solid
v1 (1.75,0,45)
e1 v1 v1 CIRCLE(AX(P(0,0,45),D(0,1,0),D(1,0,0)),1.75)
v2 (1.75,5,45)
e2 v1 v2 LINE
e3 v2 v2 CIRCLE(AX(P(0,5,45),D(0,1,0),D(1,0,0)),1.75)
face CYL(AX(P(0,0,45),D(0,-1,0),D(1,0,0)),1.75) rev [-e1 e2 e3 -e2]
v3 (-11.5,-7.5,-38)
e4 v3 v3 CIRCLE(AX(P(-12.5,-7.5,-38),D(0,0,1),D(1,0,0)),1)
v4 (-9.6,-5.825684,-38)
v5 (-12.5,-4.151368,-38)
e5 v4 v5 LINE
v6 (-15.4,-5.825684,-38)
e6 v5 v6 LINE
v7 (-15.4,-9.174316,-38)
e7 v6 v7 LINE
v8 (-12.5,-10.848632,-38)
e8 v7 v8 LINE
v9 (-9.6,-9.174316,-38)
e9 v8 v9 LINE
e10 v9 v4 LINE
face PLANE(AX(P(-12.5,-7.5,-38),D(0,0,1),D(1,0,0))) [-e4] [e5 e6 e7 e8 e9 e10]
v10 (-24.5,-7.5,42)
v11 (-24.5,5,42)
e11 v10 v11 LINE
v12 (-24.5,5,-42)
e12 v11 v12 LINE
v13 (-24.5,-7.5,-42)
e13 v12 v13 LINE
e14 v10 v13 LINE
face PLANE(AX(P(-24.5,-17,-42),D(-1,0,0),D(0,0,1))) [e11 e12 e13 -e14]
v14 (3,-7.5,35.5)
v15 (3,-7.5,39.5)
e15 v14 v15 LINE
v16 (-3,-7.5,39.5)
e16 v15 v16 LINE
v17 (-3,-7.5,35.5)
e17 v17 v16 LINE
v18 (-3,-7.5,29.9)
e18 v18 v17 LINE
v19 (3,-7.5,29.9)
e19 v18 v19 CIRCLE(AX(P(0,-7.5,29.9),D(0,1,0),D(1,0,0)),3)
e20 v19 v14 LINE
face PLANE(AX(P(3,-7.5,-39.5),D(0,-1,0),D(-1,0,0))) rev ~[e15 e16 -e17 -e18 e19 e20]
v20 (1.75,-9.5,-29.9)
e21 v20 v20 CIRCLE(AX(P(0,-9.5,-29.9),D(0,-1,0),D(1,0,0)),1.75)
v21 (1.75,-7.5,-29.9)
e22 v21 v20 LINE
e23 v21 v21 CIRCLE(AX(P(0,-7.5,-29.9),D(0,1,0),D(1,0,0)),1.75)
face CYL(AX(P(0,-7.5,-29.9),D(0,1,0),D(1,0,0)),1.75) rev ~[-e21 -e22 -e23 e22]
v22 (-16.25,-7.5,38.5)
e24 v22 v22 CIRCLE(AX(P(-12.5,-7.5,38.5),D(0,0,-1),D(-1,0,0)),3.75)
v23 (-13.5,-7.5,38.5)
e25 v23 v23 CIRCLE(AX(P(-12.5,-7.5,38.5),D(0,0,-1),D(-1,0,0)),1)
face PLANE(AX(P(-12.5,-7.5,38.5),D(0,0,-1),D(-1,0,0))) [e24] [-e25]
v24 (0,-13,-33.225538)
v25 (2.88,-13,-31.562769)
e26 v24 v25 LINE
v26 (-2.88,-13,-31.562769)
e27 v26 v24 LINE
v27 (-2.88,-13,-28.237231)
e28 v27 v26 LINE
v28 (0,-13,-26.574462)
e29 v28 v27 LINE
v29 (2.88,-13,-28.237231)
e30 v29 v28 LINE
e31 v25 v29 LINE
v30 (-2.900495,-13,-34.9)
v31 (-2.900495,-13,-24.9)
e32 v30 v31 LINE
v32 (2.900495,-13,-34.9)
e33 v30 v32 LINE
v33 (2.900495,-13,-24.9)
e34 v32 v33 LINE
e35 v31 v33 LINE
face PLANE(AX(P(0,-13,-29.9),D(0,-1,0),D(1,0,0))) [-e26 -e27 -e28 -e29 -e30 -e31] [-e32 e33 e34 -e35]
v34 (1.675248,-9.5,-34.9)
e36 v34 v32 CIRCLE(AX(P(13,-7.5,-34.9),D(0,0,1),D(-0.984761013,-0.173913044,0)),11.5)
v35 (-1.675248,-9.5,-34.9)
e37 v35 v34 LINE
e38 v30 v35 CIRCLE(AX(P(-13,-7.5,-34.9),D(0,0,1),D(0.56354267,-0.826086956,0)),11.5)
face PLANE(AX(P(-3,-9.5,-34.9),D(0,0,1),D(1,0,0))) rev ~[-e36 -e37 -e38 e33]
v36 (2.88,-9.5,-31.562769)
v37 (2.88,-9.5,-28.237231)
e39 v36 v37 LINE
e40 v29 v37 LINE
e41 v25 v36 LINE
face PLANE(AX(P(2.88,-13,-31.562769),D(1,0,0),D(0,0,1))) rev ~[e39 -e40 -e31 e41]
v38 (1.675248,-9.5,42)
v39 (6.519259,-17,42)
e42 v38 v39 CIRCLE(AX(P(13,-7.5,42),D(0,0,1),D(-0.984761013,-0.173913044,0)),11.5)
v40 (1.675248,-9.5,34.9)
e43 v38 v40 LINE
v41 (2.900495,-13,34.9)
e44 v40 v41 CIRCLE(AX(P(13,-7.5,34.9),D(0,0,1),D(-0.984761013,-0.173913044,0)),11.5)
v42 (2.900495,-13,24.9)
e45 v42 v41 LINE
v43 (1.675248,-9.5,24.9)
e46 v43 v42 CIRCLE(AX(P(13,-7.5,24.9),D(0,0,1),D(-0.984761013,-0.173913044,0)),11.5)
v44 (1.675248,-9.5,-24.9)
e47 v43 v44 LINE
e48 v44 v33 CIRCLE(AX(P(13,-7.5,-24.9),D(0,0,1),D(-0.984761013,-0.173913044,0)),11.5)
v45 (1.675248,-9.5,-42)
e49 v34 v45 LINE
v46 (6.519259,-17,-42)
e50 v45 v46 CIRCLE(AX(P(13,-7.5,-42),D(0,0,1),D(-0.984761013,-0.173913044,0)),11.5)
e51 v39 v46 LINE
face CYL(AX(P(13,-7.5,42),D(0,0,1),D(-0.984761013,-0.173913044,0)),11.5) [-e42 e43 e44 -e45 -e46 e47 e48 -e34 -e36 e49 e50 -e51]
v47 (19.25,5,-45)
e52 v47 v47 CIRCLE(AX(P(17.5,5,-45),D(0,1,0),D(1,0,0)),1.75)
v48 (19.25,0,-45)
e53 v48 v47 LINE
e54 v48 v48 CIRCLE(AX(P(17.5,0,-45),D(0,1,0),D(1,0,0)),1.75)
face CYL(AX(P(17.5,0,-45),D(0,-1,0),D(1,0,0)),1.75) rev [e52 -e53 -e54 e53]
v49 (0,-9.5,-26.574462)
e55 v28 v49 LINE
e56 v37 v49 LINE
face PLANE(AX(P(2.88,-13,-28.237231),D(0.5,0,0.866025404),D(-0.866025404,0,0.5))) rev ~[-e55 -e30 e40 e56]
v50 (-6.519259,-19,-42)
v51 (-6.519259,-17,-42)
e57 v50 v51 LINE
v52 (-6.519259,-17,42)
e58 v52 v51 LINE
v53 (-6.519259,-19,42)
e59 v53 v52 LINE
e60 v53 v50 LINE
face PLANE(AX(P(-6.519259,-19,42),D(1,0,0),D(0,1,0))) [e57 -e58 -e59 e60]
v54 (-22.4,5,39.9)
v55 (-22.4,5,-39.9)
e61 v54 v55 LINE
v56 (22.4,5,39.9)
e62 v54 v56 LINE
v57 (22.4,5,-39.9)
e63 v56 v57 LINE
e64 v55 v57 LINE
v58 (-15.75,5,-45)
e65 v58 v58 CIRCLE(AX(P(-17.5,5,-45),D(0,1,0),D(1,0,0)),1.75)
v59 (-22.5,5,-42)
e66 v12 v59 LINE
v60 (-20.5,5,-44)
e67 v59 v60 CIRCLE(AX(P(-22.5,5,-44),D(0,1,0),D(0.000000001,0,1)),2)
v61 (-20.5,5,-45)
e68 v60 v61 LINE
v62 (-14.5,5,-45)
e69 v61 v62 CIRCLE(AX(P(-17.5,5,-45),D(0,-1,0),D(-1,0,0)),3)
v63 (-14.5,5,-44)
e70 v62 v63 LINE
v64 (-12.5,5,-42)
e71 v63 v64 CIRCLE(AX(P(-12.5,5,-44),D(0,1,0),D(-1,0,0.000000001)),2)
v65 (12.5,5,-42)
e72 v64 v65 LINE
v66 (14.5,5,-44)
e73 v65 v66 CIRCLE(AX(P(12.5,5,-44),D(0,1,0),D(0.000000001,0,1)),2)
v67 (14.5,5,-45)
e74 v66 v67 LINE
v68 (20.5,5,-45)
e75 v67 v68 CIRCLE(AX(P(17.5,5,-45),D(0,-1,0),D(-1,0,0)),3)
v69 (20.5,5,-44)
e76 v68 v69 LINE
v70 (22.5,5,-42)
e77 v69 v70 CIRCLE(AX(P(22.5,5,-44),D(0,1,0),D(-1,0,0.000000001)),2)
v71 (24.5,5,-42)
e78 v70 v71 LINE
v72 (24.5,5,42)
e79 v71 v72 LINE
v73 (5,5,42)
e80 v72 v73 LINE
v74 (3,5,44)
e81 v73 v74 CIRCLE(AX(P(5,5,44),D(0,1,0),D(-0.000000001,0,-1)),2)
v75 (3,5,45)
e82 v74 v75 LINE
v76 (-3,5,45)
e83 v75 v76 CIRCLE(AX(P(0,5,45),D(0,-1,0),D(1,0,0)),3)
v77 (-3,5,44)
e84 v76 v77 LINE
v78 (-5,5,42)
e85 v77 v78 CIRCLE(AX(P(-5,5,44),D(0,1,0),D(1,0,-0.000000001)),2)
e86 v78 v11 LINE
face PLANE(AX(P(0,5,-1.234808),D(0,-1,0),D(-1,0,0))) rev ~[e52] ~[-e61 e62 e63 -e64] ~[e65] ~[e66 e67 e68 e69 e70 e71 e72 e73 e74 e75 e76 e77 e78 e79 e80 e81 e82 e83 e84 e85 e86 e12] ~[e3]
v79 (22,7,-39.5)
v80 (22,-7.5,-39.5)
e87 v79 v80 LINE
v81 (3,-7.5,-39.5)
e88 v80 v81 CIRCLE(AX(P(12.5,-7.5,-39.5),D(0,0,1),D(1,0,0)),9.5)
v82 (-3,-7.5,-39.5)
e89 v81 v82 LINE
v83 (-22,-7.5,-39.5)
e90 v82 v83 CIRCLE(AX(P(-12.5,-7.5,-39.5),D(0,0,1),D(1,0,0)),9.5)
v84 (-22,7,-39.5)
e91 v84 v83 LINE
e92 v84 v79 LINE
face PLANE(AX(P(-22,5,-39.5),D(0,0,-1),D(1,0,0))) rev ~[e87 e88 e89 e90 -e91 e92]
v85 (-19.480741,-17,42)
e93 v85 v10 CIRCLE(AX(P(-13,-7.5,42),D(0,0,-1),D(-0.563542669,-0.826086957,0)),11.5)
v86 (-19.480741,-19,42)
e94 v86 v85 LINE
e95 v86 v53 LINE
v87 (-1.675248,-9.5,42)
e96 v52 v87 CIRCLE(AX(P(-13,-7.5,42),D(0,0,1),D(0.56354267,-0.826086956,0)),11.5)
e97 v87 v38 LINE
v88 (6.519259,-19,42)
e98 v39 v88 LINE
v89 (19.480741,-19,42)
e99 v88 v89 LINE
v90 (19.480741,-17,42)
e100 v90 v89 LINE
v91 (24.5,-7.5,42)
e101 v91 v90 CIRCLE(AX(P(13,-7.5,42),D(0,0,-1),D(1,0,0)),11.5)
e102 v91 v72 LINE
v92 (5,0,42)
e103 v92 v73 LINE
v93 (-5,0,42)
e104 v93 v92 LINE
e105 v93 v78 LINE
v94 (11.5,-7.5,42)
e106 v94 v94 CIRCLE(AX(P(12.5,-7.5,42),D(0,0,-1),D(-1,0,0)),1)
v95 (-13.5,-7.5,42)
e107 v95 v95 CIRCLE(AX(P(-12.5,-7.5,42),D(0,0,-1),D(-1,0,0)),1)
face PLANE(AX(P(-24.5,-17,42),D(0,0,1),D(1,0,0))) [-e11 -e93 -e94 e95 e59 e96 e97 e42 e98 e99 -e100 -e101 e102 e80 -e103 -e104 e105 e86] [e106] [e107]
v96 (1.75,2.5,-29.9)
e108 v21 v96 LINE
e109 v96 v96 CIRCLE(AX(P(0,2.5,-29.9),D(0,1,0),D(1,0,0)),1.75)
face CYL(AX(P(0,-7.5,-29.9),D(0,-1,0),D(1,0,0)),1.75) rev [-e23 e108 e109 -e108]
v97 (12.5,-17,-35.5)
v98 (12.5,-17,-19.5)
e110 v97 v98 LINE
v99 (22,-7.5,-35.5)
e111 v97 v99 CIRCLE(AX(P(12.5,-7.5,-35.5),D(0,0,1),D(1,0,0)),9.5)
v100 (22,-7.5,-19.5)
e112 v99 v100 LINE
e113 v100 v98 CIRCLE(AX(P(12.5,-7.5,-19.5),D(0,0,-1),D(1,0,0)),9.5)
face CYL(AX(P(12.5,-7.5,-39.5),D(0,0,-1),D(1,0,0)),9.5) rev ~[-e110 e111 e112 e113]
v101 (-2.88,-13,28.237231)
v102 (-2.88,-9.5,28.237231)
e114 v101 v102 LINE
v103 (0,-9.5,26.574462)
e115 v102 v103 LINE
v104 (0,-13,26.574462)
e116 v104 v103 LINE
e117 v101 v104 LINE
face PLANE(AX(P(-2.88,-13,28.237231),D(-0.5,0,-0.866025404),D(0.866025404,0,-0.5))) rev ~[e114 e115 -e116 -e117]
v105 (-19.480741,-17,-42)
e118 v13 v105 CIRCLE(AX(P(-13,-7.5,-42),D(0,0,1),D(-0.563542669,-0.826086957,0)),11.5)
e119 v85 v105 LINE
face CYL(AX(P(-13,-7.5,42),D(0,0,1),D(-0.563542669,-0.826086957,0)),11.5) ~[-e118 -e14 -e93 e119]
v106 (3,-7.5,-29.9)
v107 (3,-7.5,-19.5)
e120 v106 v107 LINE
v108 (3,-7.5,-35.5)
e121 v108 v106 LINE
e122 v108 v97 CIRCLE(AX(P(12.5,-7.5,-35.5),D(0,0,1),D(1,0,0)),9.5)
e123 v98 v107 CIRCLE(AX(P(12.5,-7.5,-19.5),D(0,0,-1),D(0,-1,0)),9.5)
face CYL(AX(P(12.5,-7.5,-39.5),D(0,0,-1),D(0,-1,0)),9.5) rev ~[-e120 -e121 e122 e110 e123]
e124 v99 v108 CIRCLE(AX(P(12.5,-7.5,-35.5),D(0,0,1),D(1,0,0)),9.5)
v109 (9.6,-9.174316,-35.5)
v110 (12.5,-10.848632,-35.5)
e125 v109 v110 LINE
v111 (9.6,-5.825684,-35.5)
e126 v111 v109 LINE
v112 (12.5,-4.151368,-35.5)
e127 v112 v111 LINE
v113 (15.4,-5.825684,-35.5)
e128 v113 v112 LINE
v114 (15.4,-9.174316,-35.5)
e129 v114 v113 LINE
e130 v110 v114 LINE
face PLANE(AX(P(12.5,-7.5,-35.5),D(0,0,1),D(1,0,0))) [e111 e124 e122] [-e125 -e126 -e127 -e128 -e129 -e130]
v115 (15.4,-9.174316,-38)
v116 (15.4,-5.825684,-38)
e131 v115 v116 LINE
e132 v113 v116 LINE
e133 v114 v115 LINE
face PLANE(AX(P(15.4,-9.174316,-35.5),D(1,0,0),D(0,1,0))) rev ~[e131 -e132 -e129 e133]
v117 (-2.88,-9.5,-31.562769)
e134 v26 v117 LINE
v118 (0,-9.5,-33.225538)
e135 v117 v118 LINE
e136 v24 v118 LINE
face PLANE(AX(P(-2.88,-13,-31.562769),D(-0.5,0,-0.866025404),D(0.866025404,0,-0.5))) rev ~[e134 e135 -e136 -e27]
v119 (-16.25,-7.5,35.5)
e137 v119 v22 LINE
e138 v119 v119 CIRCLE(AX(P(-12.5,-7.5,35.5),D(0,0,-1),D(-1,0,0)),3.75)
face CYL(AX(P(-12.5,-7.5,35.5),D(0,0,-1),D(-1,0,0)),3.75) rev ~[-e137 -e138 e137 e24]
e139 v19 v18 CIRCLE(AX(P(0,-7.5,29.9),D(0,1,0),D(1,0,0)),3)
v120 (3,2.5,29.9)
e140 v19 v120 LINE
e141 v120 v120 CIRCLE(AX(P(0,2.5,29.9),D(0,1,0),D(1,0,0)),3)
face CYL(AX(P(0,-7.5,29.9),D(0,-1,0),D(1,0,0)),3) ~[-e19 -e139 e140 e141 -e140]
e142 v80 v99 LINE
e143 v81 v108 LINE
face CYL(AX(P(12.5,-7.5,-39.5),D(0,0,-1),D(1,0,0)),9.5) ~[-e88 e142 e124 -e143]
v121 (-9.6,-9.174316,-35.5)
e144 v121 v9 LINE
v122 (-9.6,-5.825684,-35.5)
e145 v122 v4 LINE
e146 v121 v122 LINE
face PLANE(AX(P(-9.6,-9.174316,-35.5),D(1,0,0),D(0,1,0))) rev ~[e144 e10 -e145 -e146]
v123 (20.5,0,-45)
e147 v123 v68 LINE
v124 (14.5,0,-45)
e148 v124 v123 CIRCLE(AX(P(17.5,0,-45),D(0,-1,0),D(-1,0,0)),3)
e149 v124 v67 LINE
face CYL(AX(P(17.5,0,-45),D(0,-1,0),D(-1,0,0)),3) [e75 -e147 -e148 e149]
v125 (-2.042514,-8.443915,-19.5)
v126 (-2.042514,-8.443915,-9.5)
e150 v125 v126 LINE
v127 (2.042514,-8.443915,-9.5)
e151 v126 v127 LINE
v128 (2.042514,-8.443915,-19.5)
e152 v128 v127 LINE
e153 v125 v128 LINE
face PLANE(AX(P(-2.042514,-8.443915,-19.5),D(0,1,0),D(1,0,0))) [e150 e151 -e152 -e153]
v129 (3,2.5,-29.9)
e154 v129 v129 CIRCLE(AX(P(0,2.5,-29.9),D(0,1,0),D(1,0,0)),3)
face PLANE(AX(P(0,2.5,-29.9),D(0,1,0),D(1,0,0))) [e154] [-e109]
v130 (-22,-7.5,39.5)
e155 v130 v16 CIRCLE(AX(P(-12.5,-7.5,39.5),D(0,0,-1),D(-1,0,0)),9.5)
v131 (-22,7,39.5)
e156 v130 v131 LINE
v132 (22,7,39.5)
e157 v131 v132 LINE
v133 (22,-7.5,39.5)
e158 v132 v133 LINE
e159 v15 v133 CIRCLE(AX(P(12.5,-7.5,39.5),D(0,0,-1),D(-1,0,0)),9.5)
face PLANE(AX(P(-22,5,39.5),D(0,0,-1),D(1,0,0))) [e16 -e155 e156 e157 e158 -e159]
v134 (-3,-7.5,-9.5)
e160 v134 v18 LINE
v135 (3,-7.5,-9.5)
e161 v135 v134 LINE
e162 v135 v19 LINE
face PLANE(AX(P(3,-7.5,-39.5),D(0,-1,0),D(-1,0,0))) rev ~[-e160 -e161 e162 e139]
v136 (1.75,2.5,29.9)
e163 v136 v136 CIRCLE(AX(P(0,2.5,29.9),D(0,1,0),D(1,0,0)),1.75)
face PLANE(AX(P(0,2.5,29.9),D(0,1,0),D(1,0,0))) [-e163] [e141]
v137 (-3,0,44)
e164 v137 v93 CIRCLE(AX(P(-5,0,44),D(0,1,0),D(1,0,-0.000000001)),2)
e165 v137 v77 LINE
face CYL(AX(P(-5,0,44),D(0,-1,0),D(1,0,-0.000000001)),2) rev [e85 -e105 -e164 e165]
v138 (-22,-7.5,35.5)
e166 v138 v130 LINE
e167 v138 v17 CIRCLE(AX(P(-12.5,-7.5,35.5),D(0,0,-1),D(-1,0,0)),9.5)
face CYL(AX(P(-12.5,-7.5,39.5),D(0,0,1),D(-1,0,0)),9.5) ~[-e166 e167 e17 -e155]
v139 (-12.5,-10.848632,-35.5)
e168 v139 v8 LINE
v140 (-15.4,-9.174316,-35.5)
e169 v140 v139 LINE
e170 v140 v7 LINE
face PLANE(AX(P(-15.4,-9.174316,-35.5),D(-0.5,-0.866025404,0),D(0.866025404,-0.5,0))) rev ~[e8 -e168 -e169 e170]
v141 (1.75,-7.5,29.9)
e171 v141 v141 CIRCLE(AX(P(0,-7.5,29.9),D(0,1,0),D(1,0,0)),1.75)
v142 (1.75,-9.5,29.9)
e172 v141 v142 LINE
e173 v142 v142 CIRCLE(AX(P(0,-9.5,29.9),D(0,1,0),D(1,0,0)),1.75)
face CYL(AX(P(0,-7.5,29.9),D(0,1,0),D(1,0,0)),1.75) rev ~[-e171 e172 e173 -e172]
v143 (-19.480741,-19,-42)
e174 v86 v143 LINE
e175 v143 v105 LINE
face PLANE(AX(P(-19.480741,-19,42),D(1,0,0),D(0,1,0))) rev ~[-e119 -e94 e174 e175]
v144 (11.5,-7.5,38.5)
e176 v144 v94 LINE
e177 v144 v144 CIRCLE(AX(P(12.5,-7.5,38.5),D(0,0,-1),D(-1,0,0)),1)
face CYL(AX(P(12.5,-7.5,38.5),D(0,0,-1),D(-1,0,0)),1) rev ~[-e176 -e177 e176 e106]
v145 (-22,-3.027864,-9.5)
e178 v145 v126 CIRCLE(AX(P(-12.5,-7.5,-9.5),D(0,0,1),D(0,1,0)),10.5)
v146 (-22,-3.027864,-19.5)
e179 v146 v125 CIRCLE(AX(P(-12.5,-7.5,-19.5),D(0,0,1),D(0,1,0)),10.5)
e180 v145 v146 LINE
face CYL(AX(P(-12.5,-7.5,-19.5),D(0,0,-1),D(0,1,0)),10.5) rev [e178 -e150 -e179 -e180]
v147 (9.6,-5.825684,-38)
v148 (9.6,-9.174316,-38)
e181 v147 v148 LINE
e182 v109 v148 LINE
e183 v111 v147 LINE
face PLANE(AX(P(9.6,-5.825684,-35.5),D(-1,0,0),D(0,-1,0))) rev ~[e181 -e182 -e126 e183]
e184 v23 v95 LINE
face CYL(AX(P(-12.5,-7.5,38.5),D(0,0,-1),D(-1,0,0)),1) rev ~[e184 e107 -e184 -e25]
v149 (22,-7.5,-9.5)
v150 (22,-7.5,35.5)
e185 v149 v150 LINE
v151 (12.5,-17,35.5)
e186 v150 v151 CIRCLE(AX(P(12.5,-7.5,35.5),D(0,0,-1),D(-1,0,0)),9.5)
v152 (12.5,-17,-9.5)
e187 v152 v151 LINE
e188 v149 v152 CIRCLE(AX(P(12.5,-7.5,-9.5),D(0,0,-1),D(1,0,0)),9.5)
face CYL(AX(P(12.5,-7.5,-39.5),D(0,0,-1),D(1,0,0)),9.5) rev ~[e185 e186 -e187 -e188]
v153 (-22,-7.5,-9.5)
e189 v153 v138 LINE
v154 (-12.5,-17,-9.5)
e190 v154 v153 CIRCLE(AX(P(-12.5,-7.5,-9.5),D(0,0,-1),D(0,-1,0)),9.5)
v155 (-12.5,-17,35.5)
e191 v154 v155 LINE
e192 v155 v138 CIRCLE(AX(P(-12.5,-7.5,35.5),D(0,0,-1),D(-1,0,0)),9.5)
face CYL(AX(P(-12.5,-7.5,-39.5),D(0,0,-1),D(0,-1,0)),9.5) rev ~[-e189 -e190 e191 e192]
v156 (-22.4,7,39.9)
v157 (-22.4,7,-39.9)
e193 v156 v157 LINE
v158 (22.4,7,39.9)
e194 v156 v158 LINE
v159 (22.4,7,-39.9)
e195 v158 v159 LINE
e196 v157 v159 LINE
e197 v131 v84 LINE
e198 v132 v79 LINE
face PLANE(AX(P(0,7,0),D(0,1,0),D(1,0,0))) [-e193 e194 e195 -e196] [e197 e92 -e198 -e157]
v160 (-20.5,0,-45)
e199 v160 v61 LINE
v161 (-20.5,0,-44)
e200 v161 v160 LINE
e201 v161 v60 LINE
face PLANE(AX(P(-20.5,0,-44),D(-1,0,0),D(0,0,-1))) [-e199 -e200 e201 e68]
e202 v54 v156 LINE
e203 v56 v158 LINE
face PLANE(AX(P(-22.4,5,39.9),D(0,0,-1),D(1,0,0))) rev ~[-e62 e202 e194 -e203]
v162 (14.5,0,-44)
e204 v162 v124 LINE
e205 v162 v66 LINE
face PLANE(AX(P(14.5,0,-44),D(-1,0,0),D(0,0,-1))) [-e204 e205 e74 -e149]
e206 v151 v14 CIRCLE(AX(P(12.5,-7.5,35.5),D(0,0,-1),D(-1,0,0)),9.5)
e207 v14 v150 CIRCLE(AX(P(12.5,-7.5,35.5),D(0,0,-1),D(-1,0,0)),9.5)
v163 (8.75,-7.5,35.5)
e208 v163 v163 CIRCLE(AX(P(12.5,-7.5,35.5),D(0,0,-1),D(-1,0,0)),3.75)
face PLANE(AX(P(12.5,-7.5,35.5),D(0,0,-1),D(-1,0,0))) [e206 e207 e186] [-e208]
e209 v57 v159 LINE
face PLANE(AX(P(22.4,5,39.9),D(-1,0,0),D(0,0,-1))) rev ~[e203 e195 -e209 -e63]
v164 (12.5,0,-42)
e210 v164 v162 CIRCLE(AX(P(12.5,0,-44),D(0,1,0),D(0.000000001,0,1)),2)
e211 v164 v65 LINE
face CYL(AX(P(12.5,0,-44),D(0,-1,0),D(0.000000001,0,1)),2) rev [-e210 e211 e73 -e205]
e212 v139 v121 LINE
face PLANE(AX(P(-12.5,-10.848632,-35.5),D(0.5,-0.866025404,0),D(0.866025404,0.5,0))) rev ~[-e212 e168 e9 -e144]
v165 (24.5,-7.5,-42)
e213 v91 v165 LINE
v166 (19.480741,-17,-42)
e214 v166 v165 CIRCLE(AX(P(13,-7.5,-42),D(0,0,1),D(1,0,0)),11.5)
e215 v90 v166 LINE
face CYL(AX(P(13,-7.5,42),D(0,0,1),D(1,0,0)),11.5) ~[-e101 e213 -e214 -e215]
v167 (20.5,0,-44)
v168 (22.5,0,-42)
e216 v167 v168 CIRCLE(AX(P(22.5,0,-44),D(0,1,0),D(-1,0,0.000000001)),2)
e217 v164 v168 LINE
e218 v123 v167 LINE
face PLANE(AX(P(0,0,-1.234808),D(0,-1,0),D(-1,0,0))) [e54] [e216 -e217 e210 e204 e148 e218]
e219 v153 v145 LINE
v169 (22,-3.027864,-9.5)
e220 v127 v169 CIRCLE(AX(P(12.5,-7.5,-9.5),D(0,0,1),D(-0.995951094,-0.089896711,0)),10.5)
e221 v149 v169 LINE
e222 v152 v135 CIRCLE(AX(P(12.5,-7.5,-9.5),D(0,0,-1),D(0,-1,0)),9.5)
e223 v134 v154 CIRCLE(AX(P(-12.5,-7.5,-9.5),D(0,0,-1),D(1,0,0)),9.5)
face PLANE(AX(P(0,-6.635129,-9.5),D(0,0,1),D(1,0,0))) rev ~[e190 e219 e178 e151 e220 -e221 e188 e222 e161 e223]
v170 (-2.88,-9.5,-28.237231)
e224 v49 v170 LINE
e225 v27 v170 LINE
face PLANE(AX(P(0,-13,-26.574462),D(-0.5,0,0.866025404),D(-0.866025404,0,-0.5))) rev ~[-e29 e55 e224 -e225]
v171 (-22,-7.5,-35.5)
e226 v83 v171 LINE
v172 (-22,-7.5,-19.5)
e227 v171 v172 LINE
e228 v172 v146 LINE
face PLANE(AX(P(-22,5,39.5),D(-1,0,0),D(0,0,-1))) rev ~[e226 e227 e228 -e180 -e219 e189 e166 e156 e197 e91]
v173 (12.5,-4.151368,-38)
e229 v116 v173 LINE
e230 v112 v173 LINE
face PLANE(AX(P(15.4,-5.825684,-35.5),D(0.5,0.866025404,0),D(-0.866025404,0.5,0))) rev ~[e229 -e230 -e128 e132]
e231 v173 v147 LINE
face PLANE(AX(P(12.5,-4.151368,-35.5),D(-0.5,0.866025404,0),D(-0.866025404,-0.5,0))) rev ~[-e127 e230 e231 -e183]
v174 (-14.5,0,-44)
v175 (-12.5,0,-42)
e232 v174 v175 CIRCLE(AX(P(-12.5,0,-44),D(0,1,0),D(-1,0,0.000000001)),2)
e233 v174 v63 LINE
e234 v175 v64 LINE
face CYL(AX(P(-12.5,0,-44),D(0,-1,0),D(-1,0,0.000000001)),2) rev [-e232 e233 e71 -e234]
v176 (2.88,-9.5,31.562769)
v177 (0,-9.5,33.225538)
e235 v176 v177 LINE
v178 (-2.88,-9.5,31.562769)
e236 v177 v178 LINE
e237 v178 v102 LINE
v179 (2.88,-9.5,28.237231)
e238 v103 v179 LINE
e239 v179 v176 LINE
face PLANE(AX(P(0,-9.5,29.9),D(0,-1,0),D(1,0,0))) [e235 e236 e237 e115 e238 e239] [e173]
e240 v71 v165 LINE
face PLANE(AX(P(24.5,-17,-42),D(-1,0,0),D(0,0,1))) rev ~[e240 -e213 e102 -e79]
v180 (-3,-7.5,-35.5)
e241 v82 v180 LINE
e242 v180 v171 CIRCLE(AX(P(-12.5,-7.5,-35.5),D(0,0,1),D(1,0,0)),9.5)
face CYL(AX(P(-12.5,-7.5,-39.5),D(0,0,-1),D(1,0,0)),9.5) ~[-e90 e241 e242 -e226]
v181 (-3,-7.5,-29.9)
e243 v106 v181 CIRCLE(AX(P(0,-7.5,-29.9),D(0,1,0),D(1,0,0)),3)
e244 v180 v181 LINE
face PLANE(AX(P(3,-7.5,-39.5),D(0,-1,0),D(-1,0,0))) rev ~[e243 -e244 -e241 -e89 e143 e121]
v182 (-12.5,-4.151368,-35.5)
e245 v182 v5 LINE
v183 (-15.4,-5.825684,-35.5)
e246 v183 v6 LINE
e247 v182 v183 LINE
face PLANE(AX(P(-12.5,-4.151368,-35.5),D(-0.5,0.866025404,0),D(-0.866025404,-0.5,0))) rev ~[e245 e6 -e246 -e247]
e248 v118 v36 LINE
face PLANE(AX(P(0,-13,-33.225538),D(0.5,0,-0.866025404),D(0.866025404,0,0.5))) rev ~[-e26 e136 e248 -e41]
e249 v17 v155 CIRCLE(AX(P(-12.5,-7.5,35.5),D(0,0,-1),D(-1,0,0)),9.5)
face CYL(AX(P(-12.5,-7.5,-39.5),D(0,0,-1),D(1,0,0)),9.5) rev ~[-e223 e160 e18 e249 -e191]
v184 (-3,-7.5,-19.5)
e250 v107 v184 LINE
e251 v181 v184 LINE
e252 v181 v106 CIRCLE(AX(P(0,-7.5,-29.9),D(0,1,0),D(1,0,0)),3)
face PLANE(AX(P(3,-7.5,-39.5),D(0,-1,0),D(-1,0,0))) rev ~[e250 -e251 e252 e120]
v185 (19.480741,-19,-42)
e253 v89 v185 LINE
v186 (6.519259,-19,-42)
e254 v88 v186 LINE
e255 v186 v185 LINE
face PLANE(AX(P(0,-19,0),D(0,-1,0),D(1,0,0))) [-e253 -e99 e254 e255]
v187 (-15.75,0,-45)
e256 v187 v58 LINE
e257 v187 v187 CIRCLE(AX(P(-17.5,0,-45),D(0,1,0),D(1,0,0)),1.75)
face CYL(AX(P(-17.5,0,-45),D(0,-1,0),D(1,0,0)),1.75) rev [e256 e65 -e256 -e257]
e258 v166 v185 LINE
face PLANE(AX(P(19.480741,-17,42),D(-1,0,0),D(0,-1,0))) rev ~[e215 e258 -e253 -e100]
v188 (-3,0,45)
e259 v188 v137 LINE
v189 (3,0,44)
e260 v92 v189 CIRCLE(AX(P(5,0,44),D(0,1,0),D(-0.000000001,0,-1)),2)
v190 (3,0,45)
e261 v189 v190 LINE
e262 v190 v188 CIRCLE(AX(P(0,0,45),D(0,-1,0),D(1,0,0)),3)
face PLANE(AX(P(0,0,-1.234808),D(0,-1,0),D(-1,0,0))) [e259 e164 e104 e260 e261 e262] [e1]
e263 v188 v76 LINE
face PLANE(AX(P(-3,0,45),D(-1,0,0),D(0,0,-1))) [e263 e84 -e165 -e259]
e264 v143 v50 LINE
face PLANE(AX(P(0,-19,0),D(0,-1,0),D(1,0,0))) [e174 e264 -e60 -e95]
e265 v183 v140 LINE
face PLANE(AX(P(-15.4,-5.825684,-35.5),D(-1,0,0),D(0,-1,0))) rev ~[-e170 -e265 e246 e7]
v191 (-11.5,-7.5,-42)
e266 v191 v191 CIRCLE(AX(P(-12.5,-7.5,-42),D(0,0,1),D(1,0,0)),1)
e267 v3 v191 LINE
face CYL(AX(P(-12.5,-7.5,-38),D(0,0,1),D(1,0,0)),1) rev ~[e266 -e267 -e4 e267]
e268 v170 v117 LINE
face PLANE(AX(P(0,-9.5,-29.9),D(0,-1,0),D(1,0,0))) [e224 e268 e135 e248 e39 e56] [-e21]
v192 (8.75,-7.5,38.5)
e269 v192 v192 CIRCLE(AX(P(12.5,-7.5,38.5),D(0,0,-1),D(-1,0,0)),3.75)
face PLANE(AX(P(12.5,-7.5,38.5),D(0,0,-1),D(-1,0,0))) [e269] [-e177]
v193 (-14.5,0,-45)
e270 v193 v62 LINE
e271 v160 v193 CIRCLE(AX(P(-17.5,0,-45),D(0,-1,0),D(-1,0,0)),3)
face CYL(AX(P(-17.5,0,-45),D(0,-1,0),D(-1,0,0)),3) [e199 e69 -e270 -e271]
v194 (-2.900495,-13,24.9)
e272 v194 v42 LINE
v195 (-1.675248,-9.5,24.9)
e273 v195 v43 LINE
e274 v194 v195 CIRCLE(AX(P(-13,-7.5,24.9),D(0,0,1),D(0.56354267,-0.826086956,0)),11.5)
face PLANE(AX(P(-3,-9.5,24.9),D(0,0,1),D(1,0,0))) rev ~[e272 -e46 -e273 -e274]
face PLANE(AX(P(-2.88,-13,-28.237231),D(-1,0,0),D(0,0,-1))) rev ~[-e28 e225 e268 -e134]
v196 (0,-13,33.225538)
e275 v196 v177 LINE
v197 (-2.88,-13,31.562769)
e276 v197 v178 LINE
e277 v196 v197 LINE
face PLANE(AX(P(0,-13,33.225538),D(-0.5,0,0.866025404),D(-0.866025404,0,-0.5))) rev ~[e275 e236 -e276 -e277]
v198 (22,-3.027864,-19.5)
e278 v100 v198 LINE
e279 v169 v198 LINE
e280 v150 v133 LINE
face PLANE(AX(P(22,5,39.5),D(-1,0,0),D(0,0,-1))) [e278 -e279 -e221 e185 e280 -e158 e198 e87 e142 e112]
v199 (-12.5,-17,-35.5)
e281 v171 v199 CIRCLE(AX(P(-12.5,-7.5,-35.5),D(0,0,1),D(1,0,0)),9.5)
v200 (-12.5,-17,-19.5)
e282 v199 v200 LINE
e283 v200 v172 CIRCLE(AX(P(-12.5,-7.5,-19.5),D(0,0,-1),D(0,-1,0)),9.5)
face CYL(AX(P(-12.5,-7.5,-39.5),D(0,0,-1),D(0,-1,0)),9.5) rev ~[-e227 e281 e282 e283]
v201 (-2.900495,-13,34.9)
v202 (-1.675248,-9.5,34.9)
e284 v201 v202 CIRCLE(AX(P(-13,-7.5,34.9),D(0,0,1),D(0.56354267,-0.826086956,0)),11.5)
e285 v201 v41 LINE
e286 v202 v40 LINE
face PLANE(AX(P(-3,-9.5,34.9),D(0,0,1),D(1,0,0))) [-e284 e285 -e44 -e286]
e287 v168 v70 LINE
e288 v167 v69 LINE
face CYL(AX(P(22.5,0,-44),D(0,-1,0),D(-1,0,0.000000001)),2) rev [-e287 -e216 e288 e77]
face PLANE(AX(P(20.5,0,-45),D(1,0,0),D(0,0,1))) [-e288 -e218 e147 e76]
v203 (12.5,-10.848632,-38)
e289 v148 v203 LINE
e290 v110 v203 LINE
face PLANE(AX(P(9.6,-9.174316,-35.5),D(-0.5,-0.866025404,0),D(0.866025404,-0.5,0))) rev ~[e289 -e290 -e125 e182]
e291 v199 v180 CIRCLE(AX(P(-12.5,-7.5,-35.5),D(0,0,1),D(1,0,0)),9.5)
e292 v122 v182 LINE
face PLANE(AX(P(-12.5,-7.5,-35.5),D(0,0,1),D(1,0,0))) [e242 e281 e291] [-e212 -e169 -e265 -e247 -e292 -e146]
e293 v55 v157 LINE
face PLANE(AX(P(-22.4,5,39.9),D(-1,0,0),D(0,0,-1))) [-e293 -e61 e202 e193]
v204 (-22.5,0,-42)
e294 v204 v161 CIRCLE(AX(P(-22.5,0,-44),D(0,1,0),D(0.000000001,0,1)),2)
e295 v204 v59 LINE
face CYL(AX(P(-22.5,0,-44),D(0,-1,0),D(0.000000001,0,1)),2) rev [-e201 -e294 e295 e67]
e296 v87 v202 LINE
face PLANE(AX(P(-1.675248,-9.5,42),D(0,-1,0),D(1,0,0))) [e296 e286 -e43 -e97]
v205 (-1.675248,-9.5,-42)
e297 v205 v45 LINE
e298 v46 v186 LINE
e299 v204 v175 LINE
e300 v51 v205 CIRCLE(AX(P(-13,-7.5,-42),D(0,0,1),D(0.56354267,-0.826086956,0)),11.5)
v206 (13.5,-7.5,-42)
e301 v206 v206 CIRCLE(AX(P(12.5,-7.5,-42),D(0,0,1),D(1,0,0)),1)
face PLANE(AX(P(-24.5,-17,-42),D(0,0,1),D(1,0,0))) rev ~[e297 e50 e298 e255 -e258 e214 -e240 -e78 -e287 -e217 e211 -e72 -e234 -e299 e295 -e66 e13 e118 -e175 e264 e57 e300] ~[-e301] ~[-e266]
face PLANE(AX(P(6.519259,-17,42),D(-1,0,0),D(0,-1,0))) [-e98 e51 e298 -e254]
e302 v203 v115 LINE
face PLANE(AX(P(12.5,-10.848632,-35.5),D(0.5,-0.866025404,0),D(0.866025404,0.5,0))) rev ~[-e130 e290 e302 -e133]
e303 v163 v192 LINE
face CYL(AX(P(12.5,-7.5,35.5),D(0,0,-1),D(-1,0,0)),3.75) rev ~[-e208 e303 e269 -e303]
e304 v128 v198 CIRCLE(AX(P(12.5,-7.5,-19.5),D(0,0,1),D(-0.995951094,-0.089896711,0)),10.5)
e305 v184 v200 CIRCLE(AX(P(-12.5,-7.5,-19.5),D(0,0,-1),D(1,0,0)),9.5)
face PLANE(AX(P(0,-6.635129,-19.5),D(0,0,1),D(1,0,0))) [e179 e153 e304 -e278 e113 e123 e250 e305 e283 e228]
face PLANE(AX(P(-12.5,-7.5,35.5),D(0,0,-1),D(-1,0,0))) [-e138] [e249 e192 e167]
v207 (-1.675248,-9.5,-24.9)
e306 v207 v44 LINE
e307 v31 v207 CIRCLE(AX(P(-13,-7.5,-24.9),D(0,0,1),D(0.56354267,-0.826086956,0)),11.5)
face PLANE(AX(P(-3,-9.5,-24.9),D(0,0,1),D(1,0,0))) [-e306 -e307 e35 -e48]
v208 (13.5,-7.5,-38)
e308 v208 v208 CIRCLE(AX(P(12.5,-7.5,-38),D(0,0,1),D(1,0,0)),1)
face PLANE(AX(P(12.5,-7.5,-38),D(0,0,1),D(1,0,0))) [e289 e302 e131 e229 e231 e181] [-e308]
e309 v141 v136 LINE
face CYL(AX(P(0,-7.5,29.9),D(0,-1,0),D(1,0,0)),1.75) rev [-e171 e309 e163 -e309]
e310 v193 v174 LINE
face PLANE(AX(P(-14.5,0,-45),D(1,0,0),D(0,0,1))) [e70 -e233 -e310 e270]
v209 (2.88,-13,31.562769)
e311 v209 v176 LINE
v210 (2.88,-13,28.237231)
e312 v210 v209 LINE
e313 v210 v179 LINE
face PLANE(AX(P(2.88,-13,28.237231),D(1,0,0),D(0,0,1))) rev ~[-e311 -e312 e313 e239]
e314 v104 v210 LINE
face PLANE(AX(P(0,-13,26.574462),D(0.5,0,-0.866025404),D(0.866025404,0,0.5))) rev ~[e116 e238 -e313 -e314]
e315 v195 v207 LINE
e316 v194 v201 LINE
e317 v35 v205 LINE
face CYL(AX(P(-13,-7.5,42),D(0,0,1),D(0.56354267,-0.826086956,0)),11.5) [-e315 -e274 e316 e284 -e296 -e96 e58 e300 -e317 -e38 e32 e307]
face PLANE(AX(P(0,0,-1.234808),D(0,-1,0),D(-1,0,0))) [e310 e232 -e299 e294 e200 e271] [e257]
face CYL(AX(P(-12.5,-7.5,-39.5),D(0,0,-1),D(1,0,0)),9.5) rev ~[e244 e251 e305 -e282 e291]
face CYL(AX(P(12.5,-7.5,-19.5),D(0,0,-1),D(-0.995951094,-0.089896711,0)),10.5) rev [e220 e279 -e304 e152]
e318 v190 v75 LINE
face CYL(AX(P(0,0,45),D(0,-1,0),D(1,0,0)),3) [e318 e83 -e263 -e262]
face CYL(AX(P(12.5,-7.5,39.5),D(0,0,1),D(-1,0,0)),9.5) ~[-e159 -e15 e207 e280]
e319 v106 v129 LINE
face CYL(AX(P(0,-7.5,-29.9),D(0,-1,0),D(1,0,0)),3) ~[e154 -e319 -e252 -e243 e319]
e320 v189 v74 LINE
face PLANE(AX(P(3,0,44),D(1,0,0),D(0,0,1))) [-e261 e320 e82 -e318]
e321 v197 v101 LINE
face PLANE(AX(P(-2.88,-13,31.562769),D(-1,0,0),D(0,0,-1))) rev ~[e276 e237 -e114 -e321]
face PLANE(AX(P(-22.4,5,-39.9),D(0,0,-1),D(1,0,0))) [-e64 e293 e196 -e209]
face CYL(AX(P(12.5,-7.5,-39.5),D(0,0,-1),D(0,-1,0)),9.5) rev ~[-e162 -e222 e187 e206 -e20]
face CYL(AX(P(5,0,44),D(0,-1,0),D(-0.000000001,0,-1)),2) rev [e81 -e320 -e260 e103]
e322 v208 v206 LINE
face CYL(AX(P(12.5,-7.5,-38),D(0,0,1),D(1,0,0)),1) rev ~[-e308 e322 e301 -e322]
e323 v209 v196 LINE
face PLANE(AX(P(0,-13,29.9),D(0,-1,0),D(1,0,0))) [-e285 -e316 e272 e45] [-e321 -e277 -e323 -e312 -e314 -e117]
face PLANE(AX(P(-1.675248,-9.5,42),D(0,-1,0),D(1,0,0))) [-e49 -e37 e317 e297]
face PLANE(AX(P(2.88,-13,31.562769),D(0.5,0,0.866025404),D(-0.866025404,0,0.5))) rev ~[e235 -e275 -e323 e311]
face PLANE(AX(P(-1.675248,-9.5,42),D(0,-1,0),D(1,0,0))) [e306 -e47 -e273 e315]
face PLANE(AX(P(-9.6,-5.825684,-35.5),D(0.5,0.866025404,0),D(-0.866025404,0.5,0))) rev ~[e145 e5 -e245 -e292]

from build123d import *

# Parameters (mm, degrees)
SKETCH_1_R          = 1.75
SKETCH_1_W          = 44
SKETCH_1_H          = 79
EXTRUDE_1_DEPTH     = 5
SKETCH_2_W          = 49
SKETCH_2_H          = 84
SKETCH_2_W_2        = 44
SKETCH_2_H_2        = 79
EXTRUDE_2_DEPTH     = 17
SKETCH_3_W          = 44.8
SKETCH_3_H          = 79.8
SKETCH_3_W_2        = 44
SKETCH_3_H_2        = 79
EXTRUDE_3_DEPTH     = 2
SKETCH_4_W          = 49
SKETCH_4_H          = 84
EXTRUDE_4_DEPTH     = 2
EXTRUDE_5_DEPTH     = 79
CUT_EXTRUDE_START   = 20
CUT_EXTRUDE_1_DEPTH = 10
SKETCH_7_R          = 1.75
CUT_EXTRUDE_2_DEPTH = 12.5
CUT_EXTRUDE_3_DEPTH = 91
SKETCH_9_R          = 3
SKETCH_9_R_2        = 1.75
EXTRUDE_6_DEPTH     = 10
SKETCH_11_W         = 6
SKETCH_11_H         = 10
SKETCH_11_R         = 1.75
EXTRUDE_7_DEPTH     = 3.5
CUT_EXTRUDE_4_DEPTH = 3.5
SKETCH_13_R         = 9.5
EXTRUDE_8_DEPTH     = 4
SKETCH_14_R         = 9.5
EXTRUDE_9_DEPTH     = 4
CUT_EXTRUDE_5_DEPTH = 2.5
SKETCH_16_R         = 1
CUT_EXTRUDE_6_DEPTH = 11
SKETCH_17_R         = 3.75
CUT_EXTRUDE_7_DEPTH = 3
SKETCH_18_R         = 1
CUT_EXTRUDE_8_DEPTH = 10.5


with BuildPart() as part:
    # Эскиз1 → Бобышка-Вытянуть1 (new body)
    with BuildSketch(Plane(origin=(0, 0, 0), x_dir=(1, 0, 0), z_dir=(0, 1, 0))):
        with BuildLine():
            Line((-3, -45), (-3, -44))
            ThreePointArc((-3, -44), (-3.585786438, -42.585786438), (-5, -42))
            Line((-5, -42), (-24.5, -42))
            Line((-24.5, -42), (-24.5, 42))
            Line((-24.5, 42), (-22.5, 42))
            ThreePointArc((-22.5, 42), (-21.085786438, 42.585786438), (-20.5, 44))
            Line((-20.5, 44), (-20.5, 45))
            ThreePointArc((-20.5, 45), (-17.5, 48), (-14.5, 45))
            Line((-14.5, 45), (-14.5, 44))
            ThreePointArc((-14.5, 44), (-13.914213562, 42.585786438), (-12.5, 42))
            Line((-12.5, 42), (12.5, 42))
            ThreePointArc((12.5, 42), (13.914213562, 42.585786438), (14.5, 44))
            Line((14.5, 44), (14.5, 45))
            ThreePointArc((14.5, 45), (17.5, 48), (20.5, 45))
            Line((20.5, 45), (20.5, 44))
            ThreePointArc((20.5, 44), (21.085786438, 42.585786438), (22.5, 42))
            Line((22.5, 42), (24.5, 42))
            Line((24.5, 42), (24.5, -42))
            Line((24.5, -42), (5, -42))
            ThreePointArc((5, -42), (3.585786438, -42.585786438), (3, -44))
            Line((3, -44), (3, -45))
            ThreePointArc((3, -45), (0, -48), (-3, -45))
        make_face()
        with Locations((-17.5, 45)):
            Circle(SKETCH_1_R, mode=Mode.SUBTRACT)
        with Locations((17.5, 45)):
            Circle(SKETCH_1_R, mode=Mode.SUBTRACT)
        with Locations((0, -45)):
            Circle(SKETCH_1_R, mode=Mode.SUBTRACT)
        Rectangle(SKETCH_1_W, SKETCH_1_H, mode=Mode.SUBTRACT)
    extrude(amount=EXTRUDE_1_DEPTH)

    # Эскиз2 → Бобышка-Вытянуть2 (add)
    with BuildSketch(Plane.XZ):
        Rectangle(SKETCH_2_W, SKETCH_2_H)
        Rectangle(SKETCH_2_W_2, SKETCH_2_H_2, mode=Mode.SUBTRACT)
    extrude(amount=EXTRUDE_2_DEPTH)

    # Эскиз3 → Бобышка-Вытянуть3 (add)
    with BuildSketch(Plane(origin=(0, 5, 0), x_dir=(1, 0, 0), z_dir=(0, 1, 0))):
        Rectangle(SKETCH_3_W, SKETCH_3_H)
        Rectangle(SKETCH_3_W_2, SKETCH_3_H_2, mode=Mode.SUBTRACT)
    extrude(amount=EXTRUDE_3_DEPTH)

    # Эскиз4 → Бобышка-Вытянуть4 (add)
    with BuildSketch(Plane.XZ.offset(17)):
        Rectangle(SKETCH_4_W, SKETCH_4_H)
    extrude(amount=EXTRUDE_4_DEPTH)

    # Эскиз5 → Бобышка-Вытянуть5 (add)
    with BuildSketch(Plane.XY.offset(-39.5)):
        with BuildLine():
            Line((3, -7.5), (-3, -7.5))
            ThreePointArc((-3, -7.5), (-5.782485579, -14.217514421), (-12.5, -17))
            Line((-12.5, -17), (12.5, -17))
            ThreePointArc((12.5, -17), (5.782485579, -14.217514421), (3, -7.5))
        make_face()
        with BuildLine():
            Line((-22, -17), (-12.5, -17))
            ThreePointArc((-12.5, -17), (-19.217514421, -14.217514421), (-22, -7.5))
            Line((-22, -7.5), (-22, -17))
        make_face()
        with BuildLine():
            ThreePointArc((22, -7.5), (19.217514421, -14.217514421), (12.5, -17))
            Line((12.5, -17), (22, -17))
            Line((22, -17), (22, -7.5))
        make_face()
    extrude(amount=EXTRUDE_5_DEPTH)

    # Эскиз6 → Вырез-Вытянуть1 (cut)
    with BuildSketch(Plane.XY.offset(-39.5).offset(CUT_EXTRUDE_START)):
        with BuildLine():
            Line((-2.042513515, -8.443915466), (2.042513515, -8.443915466))
            ThreePointArc((2.042513515, -8.443915466), (20.251164828, -14.583039164), (12.5, 3))
            Line((12.5, 3), (-12.5, 3))
            ThreePointArc((-12.5, 3), (-20.251164828, -14.583039164), (-2.042513515, -8.443915466))
        make_face()
    extrude(amount=CUT_EXTRUDE_1_DEPTH, mode=Mode.SUBTRACT)

    # Эскиз7 → Вырез-Вытянуть2 (cut, through all)
    with BuildSketch(Plane(origin=(0, -7.5, 0), x_dir=(1, 0, 0), z_dir=(0, 1, 0))):
        with Locations((0, 29.9)):
            Circle(SKETCH_7_R)
        with Locations((0, -29.9)):
            Circle(SKETCH_7_R)
    extrude(amount=-CUT_EXTRUDE_2_DEPTH, mode=Mode.SUBTRACT)

    # Эскиз8 → Вырез-Вытянуть3 (cut, through all)
    with BuildSketch(Plane.XY.offset(42)):
        with BuildLine():
            Line((-1.675248347, -9.5), (1.675248347, -9.5))
            ThreePointArc((1.675248347, -9.5), (3.339700343, -13.739279648), (6.519259302, -17))
            Line((6.519259302, -17), (6.519259302, -19))
            Line((6.519259302, -19), (-6.519259302, -19))
            Line((-6.519259302, -19), (-6.519259302, -17))
            ThreePointArc((-6.519259302, -17), (-3.339700343, -13.739279648), (-1.675248347, -9.5))
        make_face()
        with BuildLine():
            Line((19.480740698, -19), (24.5, -19))
            Line((24.5, -19), (24.5, -7.5))
            ThreePointArc((24.5, -7.5), (23.168050896, -12.872219372), (19.480740698, -17))
            Line((19.480740698, -17), (19.480740698, -19))
        make_face()
        with BuildLine():
            Line((-24.5, -7.5), (-24.5, -19))
            Line((-24.5, -19), (-19.480740698, -19))
            Line((-19.480740698, -19), (-19.480740698, -17))
            ThreePointArc((-19.480740698, -17), (-23.168050896, -12.872219372), (-24.5, -7.5))
        make_face()
    extrude(amount=-CUT_EXTRUDE_3_DEPTH, mode=Mode.SUBTRACT)

    # Эскиз9 → Бобышка-Вытянуть6 (add)
    with BuildSketch(Plane(origin=(0, -7.5, 0), x_dir=(1, 0, 0), z_dir=(0, 1, 0))):
        with Locations((0, 29.9)):
            Circle(SKETCH_9_R)
        with Locations((0, 29.9)):
            Circle(SKETCH_9_R_2, mode=Mode.SUBTRACT)
        with Locations((0, -29.9)):
            Circle(SKETCH_9_R)
        with Locations((0, -29.9)):
            Circle(SKETCH_9_R_2, mode=Mode.SUBTRACT)
    extrude(amount=EXTRUDE_6_DEPTH)

    # Эскиз11 → Бобышка-Вытянуть7 (add)
    with BuildSketch(Plane.XZ.offset(9.5)):
        with Locations((0, -29.9)):
            Rectangle(SKETCH_11_W, SKETCH_11_H)
        with Locations((0, -29.9)):
            Circle(SKETCH_11_R, mode=Mode.SUBTRACT)
        with Locations((0, 29.9)):
            Rectangle(SKETCH_11_W, SKETCH_11_H)
        with Locations((0, 29.9)):
            Circle(SKETCH_11_R, mode=Mode.SUBTRACT)
    extrude(amount=EXTRUDE_7_DEPTH)

    # Эскиз12 → Вырез-Вытянуть4 (cut)
    with BuildSketch(Plane.XZ.offset(13)):
        Polygon((0, 26.574462449), (2.88, 28.237231225), (2.88, 31.562768775), (0, 33.225537551), (-2.88, 31.562768775), (-2.88, 28.237231225), align=None)
        Polygon((0, -33.225537551), (2.88, -31.562768775), (2.88, -28.237231225), (0, -26.574462449), (-2.88, -28.237231225), (-2.88, -31.562768775), align=None)
    extrude(amount=-CUT_EXTRUDE_4_DEPTH, mode=Mode.SUBTRACT)

    # Эскиз13 → Бобышка-Вытянуть8 (add)
    with BuildSketch(Plane.XY.offset(-39.5)):
        with Locations((-12.5, -7.5)):
            Circle(SKETCH_13_R)
        with Locations((12.5, -7.5)):
            Circle(SKETCH_13_R)
    extrude(amount=EXTRUDE_8_DEPTH)

    # Эскиз14 → Бобышка-Вытянуть9 (add)
    with BuildSketch(Plane(origin=(0, 0, 39.5), x_dir=(-1, 0, 0), z_dir=(0, 0, -1))):
        with Locations((-12.5, -7.5)):
            Circle(SKETCH_14_R)
        with Locations((12.5, -7.5)):
            Circle(SKETCH_14_R)
    extrude(amount=EXTRUDE_9_DEPTH)

    # Эскиз15 → Вырез-Вытянуть5 (cut)
    with BuildSketch(Plane.XY.offset(-35.5)):
        Polygon((-12.5, -10.848631561), (-9.6, -9.174315781), (-9.6, -5.825684219), (-12.5, -4.151368439), (-15.4, -5.825684219), (-15.4, -9.174315781), align=None)
        Polygon((12.5, -10.848631561), (15.4, -9.174315781), (15.4, -5.825684219), (12.5, -4.151368439), (9.6, -5.825684219), (9.6, -9.174315781), align=None)
    extrude(amount=-CUT_EXTRUDE_5_DEPTH, mode=Mode.SUBTRACT)

    # Эскиз16 → Вырез-Вытянуть6 (cut, through all)
    with BuildSketch(Plane.XY.offset(-38)):
        with Locations((12.5, -7.5)):
            Circle(SKETCH_16_R)
        with Locations((-12.5, -7.5)):
            Circle(SKETCH_16_R)
    extrude(amount=-CUT_EXTRUDE_6_DEPTH, mode=Mode.SUBTRACT)

    # Эскиз17 → Вырез-Вытянуть7 (cut)
    with BuildSketch(Plane(origin=(0, 0, 35.5), x_dir=(-1, 0, 0), z_dir=(0, 0, -1))):
        with Locations((-12.5, -7.5)):
            Circle(SKETCH_17_R)
        with Locations((12.5, -7.5)):
            Circle(SKETCH_17_R)
    extrude(amount=-CUT_EXTRUDE_7_DEPTH, mode=Mode.SUBTRACT)

    # Эскиз18 → Вырез-Вытянуть8 (cut, through all)
    with BuildSketch(Plane(origin=(0, 0, 38.5), x_dir=(-1, 0, 0), z_dir=(0, 0, -1))):
        with Locations((-12.5, -7.5)):
            Circle(SKETCH_18_R)
        with Locations((12.5, -7.5)):
            Circle(SKETCH_18_R)
    extrude(amount=-CUT_EXTRUDE_8_DEPTH, mode=Mode.SUBTRACT)


solid = part.part
